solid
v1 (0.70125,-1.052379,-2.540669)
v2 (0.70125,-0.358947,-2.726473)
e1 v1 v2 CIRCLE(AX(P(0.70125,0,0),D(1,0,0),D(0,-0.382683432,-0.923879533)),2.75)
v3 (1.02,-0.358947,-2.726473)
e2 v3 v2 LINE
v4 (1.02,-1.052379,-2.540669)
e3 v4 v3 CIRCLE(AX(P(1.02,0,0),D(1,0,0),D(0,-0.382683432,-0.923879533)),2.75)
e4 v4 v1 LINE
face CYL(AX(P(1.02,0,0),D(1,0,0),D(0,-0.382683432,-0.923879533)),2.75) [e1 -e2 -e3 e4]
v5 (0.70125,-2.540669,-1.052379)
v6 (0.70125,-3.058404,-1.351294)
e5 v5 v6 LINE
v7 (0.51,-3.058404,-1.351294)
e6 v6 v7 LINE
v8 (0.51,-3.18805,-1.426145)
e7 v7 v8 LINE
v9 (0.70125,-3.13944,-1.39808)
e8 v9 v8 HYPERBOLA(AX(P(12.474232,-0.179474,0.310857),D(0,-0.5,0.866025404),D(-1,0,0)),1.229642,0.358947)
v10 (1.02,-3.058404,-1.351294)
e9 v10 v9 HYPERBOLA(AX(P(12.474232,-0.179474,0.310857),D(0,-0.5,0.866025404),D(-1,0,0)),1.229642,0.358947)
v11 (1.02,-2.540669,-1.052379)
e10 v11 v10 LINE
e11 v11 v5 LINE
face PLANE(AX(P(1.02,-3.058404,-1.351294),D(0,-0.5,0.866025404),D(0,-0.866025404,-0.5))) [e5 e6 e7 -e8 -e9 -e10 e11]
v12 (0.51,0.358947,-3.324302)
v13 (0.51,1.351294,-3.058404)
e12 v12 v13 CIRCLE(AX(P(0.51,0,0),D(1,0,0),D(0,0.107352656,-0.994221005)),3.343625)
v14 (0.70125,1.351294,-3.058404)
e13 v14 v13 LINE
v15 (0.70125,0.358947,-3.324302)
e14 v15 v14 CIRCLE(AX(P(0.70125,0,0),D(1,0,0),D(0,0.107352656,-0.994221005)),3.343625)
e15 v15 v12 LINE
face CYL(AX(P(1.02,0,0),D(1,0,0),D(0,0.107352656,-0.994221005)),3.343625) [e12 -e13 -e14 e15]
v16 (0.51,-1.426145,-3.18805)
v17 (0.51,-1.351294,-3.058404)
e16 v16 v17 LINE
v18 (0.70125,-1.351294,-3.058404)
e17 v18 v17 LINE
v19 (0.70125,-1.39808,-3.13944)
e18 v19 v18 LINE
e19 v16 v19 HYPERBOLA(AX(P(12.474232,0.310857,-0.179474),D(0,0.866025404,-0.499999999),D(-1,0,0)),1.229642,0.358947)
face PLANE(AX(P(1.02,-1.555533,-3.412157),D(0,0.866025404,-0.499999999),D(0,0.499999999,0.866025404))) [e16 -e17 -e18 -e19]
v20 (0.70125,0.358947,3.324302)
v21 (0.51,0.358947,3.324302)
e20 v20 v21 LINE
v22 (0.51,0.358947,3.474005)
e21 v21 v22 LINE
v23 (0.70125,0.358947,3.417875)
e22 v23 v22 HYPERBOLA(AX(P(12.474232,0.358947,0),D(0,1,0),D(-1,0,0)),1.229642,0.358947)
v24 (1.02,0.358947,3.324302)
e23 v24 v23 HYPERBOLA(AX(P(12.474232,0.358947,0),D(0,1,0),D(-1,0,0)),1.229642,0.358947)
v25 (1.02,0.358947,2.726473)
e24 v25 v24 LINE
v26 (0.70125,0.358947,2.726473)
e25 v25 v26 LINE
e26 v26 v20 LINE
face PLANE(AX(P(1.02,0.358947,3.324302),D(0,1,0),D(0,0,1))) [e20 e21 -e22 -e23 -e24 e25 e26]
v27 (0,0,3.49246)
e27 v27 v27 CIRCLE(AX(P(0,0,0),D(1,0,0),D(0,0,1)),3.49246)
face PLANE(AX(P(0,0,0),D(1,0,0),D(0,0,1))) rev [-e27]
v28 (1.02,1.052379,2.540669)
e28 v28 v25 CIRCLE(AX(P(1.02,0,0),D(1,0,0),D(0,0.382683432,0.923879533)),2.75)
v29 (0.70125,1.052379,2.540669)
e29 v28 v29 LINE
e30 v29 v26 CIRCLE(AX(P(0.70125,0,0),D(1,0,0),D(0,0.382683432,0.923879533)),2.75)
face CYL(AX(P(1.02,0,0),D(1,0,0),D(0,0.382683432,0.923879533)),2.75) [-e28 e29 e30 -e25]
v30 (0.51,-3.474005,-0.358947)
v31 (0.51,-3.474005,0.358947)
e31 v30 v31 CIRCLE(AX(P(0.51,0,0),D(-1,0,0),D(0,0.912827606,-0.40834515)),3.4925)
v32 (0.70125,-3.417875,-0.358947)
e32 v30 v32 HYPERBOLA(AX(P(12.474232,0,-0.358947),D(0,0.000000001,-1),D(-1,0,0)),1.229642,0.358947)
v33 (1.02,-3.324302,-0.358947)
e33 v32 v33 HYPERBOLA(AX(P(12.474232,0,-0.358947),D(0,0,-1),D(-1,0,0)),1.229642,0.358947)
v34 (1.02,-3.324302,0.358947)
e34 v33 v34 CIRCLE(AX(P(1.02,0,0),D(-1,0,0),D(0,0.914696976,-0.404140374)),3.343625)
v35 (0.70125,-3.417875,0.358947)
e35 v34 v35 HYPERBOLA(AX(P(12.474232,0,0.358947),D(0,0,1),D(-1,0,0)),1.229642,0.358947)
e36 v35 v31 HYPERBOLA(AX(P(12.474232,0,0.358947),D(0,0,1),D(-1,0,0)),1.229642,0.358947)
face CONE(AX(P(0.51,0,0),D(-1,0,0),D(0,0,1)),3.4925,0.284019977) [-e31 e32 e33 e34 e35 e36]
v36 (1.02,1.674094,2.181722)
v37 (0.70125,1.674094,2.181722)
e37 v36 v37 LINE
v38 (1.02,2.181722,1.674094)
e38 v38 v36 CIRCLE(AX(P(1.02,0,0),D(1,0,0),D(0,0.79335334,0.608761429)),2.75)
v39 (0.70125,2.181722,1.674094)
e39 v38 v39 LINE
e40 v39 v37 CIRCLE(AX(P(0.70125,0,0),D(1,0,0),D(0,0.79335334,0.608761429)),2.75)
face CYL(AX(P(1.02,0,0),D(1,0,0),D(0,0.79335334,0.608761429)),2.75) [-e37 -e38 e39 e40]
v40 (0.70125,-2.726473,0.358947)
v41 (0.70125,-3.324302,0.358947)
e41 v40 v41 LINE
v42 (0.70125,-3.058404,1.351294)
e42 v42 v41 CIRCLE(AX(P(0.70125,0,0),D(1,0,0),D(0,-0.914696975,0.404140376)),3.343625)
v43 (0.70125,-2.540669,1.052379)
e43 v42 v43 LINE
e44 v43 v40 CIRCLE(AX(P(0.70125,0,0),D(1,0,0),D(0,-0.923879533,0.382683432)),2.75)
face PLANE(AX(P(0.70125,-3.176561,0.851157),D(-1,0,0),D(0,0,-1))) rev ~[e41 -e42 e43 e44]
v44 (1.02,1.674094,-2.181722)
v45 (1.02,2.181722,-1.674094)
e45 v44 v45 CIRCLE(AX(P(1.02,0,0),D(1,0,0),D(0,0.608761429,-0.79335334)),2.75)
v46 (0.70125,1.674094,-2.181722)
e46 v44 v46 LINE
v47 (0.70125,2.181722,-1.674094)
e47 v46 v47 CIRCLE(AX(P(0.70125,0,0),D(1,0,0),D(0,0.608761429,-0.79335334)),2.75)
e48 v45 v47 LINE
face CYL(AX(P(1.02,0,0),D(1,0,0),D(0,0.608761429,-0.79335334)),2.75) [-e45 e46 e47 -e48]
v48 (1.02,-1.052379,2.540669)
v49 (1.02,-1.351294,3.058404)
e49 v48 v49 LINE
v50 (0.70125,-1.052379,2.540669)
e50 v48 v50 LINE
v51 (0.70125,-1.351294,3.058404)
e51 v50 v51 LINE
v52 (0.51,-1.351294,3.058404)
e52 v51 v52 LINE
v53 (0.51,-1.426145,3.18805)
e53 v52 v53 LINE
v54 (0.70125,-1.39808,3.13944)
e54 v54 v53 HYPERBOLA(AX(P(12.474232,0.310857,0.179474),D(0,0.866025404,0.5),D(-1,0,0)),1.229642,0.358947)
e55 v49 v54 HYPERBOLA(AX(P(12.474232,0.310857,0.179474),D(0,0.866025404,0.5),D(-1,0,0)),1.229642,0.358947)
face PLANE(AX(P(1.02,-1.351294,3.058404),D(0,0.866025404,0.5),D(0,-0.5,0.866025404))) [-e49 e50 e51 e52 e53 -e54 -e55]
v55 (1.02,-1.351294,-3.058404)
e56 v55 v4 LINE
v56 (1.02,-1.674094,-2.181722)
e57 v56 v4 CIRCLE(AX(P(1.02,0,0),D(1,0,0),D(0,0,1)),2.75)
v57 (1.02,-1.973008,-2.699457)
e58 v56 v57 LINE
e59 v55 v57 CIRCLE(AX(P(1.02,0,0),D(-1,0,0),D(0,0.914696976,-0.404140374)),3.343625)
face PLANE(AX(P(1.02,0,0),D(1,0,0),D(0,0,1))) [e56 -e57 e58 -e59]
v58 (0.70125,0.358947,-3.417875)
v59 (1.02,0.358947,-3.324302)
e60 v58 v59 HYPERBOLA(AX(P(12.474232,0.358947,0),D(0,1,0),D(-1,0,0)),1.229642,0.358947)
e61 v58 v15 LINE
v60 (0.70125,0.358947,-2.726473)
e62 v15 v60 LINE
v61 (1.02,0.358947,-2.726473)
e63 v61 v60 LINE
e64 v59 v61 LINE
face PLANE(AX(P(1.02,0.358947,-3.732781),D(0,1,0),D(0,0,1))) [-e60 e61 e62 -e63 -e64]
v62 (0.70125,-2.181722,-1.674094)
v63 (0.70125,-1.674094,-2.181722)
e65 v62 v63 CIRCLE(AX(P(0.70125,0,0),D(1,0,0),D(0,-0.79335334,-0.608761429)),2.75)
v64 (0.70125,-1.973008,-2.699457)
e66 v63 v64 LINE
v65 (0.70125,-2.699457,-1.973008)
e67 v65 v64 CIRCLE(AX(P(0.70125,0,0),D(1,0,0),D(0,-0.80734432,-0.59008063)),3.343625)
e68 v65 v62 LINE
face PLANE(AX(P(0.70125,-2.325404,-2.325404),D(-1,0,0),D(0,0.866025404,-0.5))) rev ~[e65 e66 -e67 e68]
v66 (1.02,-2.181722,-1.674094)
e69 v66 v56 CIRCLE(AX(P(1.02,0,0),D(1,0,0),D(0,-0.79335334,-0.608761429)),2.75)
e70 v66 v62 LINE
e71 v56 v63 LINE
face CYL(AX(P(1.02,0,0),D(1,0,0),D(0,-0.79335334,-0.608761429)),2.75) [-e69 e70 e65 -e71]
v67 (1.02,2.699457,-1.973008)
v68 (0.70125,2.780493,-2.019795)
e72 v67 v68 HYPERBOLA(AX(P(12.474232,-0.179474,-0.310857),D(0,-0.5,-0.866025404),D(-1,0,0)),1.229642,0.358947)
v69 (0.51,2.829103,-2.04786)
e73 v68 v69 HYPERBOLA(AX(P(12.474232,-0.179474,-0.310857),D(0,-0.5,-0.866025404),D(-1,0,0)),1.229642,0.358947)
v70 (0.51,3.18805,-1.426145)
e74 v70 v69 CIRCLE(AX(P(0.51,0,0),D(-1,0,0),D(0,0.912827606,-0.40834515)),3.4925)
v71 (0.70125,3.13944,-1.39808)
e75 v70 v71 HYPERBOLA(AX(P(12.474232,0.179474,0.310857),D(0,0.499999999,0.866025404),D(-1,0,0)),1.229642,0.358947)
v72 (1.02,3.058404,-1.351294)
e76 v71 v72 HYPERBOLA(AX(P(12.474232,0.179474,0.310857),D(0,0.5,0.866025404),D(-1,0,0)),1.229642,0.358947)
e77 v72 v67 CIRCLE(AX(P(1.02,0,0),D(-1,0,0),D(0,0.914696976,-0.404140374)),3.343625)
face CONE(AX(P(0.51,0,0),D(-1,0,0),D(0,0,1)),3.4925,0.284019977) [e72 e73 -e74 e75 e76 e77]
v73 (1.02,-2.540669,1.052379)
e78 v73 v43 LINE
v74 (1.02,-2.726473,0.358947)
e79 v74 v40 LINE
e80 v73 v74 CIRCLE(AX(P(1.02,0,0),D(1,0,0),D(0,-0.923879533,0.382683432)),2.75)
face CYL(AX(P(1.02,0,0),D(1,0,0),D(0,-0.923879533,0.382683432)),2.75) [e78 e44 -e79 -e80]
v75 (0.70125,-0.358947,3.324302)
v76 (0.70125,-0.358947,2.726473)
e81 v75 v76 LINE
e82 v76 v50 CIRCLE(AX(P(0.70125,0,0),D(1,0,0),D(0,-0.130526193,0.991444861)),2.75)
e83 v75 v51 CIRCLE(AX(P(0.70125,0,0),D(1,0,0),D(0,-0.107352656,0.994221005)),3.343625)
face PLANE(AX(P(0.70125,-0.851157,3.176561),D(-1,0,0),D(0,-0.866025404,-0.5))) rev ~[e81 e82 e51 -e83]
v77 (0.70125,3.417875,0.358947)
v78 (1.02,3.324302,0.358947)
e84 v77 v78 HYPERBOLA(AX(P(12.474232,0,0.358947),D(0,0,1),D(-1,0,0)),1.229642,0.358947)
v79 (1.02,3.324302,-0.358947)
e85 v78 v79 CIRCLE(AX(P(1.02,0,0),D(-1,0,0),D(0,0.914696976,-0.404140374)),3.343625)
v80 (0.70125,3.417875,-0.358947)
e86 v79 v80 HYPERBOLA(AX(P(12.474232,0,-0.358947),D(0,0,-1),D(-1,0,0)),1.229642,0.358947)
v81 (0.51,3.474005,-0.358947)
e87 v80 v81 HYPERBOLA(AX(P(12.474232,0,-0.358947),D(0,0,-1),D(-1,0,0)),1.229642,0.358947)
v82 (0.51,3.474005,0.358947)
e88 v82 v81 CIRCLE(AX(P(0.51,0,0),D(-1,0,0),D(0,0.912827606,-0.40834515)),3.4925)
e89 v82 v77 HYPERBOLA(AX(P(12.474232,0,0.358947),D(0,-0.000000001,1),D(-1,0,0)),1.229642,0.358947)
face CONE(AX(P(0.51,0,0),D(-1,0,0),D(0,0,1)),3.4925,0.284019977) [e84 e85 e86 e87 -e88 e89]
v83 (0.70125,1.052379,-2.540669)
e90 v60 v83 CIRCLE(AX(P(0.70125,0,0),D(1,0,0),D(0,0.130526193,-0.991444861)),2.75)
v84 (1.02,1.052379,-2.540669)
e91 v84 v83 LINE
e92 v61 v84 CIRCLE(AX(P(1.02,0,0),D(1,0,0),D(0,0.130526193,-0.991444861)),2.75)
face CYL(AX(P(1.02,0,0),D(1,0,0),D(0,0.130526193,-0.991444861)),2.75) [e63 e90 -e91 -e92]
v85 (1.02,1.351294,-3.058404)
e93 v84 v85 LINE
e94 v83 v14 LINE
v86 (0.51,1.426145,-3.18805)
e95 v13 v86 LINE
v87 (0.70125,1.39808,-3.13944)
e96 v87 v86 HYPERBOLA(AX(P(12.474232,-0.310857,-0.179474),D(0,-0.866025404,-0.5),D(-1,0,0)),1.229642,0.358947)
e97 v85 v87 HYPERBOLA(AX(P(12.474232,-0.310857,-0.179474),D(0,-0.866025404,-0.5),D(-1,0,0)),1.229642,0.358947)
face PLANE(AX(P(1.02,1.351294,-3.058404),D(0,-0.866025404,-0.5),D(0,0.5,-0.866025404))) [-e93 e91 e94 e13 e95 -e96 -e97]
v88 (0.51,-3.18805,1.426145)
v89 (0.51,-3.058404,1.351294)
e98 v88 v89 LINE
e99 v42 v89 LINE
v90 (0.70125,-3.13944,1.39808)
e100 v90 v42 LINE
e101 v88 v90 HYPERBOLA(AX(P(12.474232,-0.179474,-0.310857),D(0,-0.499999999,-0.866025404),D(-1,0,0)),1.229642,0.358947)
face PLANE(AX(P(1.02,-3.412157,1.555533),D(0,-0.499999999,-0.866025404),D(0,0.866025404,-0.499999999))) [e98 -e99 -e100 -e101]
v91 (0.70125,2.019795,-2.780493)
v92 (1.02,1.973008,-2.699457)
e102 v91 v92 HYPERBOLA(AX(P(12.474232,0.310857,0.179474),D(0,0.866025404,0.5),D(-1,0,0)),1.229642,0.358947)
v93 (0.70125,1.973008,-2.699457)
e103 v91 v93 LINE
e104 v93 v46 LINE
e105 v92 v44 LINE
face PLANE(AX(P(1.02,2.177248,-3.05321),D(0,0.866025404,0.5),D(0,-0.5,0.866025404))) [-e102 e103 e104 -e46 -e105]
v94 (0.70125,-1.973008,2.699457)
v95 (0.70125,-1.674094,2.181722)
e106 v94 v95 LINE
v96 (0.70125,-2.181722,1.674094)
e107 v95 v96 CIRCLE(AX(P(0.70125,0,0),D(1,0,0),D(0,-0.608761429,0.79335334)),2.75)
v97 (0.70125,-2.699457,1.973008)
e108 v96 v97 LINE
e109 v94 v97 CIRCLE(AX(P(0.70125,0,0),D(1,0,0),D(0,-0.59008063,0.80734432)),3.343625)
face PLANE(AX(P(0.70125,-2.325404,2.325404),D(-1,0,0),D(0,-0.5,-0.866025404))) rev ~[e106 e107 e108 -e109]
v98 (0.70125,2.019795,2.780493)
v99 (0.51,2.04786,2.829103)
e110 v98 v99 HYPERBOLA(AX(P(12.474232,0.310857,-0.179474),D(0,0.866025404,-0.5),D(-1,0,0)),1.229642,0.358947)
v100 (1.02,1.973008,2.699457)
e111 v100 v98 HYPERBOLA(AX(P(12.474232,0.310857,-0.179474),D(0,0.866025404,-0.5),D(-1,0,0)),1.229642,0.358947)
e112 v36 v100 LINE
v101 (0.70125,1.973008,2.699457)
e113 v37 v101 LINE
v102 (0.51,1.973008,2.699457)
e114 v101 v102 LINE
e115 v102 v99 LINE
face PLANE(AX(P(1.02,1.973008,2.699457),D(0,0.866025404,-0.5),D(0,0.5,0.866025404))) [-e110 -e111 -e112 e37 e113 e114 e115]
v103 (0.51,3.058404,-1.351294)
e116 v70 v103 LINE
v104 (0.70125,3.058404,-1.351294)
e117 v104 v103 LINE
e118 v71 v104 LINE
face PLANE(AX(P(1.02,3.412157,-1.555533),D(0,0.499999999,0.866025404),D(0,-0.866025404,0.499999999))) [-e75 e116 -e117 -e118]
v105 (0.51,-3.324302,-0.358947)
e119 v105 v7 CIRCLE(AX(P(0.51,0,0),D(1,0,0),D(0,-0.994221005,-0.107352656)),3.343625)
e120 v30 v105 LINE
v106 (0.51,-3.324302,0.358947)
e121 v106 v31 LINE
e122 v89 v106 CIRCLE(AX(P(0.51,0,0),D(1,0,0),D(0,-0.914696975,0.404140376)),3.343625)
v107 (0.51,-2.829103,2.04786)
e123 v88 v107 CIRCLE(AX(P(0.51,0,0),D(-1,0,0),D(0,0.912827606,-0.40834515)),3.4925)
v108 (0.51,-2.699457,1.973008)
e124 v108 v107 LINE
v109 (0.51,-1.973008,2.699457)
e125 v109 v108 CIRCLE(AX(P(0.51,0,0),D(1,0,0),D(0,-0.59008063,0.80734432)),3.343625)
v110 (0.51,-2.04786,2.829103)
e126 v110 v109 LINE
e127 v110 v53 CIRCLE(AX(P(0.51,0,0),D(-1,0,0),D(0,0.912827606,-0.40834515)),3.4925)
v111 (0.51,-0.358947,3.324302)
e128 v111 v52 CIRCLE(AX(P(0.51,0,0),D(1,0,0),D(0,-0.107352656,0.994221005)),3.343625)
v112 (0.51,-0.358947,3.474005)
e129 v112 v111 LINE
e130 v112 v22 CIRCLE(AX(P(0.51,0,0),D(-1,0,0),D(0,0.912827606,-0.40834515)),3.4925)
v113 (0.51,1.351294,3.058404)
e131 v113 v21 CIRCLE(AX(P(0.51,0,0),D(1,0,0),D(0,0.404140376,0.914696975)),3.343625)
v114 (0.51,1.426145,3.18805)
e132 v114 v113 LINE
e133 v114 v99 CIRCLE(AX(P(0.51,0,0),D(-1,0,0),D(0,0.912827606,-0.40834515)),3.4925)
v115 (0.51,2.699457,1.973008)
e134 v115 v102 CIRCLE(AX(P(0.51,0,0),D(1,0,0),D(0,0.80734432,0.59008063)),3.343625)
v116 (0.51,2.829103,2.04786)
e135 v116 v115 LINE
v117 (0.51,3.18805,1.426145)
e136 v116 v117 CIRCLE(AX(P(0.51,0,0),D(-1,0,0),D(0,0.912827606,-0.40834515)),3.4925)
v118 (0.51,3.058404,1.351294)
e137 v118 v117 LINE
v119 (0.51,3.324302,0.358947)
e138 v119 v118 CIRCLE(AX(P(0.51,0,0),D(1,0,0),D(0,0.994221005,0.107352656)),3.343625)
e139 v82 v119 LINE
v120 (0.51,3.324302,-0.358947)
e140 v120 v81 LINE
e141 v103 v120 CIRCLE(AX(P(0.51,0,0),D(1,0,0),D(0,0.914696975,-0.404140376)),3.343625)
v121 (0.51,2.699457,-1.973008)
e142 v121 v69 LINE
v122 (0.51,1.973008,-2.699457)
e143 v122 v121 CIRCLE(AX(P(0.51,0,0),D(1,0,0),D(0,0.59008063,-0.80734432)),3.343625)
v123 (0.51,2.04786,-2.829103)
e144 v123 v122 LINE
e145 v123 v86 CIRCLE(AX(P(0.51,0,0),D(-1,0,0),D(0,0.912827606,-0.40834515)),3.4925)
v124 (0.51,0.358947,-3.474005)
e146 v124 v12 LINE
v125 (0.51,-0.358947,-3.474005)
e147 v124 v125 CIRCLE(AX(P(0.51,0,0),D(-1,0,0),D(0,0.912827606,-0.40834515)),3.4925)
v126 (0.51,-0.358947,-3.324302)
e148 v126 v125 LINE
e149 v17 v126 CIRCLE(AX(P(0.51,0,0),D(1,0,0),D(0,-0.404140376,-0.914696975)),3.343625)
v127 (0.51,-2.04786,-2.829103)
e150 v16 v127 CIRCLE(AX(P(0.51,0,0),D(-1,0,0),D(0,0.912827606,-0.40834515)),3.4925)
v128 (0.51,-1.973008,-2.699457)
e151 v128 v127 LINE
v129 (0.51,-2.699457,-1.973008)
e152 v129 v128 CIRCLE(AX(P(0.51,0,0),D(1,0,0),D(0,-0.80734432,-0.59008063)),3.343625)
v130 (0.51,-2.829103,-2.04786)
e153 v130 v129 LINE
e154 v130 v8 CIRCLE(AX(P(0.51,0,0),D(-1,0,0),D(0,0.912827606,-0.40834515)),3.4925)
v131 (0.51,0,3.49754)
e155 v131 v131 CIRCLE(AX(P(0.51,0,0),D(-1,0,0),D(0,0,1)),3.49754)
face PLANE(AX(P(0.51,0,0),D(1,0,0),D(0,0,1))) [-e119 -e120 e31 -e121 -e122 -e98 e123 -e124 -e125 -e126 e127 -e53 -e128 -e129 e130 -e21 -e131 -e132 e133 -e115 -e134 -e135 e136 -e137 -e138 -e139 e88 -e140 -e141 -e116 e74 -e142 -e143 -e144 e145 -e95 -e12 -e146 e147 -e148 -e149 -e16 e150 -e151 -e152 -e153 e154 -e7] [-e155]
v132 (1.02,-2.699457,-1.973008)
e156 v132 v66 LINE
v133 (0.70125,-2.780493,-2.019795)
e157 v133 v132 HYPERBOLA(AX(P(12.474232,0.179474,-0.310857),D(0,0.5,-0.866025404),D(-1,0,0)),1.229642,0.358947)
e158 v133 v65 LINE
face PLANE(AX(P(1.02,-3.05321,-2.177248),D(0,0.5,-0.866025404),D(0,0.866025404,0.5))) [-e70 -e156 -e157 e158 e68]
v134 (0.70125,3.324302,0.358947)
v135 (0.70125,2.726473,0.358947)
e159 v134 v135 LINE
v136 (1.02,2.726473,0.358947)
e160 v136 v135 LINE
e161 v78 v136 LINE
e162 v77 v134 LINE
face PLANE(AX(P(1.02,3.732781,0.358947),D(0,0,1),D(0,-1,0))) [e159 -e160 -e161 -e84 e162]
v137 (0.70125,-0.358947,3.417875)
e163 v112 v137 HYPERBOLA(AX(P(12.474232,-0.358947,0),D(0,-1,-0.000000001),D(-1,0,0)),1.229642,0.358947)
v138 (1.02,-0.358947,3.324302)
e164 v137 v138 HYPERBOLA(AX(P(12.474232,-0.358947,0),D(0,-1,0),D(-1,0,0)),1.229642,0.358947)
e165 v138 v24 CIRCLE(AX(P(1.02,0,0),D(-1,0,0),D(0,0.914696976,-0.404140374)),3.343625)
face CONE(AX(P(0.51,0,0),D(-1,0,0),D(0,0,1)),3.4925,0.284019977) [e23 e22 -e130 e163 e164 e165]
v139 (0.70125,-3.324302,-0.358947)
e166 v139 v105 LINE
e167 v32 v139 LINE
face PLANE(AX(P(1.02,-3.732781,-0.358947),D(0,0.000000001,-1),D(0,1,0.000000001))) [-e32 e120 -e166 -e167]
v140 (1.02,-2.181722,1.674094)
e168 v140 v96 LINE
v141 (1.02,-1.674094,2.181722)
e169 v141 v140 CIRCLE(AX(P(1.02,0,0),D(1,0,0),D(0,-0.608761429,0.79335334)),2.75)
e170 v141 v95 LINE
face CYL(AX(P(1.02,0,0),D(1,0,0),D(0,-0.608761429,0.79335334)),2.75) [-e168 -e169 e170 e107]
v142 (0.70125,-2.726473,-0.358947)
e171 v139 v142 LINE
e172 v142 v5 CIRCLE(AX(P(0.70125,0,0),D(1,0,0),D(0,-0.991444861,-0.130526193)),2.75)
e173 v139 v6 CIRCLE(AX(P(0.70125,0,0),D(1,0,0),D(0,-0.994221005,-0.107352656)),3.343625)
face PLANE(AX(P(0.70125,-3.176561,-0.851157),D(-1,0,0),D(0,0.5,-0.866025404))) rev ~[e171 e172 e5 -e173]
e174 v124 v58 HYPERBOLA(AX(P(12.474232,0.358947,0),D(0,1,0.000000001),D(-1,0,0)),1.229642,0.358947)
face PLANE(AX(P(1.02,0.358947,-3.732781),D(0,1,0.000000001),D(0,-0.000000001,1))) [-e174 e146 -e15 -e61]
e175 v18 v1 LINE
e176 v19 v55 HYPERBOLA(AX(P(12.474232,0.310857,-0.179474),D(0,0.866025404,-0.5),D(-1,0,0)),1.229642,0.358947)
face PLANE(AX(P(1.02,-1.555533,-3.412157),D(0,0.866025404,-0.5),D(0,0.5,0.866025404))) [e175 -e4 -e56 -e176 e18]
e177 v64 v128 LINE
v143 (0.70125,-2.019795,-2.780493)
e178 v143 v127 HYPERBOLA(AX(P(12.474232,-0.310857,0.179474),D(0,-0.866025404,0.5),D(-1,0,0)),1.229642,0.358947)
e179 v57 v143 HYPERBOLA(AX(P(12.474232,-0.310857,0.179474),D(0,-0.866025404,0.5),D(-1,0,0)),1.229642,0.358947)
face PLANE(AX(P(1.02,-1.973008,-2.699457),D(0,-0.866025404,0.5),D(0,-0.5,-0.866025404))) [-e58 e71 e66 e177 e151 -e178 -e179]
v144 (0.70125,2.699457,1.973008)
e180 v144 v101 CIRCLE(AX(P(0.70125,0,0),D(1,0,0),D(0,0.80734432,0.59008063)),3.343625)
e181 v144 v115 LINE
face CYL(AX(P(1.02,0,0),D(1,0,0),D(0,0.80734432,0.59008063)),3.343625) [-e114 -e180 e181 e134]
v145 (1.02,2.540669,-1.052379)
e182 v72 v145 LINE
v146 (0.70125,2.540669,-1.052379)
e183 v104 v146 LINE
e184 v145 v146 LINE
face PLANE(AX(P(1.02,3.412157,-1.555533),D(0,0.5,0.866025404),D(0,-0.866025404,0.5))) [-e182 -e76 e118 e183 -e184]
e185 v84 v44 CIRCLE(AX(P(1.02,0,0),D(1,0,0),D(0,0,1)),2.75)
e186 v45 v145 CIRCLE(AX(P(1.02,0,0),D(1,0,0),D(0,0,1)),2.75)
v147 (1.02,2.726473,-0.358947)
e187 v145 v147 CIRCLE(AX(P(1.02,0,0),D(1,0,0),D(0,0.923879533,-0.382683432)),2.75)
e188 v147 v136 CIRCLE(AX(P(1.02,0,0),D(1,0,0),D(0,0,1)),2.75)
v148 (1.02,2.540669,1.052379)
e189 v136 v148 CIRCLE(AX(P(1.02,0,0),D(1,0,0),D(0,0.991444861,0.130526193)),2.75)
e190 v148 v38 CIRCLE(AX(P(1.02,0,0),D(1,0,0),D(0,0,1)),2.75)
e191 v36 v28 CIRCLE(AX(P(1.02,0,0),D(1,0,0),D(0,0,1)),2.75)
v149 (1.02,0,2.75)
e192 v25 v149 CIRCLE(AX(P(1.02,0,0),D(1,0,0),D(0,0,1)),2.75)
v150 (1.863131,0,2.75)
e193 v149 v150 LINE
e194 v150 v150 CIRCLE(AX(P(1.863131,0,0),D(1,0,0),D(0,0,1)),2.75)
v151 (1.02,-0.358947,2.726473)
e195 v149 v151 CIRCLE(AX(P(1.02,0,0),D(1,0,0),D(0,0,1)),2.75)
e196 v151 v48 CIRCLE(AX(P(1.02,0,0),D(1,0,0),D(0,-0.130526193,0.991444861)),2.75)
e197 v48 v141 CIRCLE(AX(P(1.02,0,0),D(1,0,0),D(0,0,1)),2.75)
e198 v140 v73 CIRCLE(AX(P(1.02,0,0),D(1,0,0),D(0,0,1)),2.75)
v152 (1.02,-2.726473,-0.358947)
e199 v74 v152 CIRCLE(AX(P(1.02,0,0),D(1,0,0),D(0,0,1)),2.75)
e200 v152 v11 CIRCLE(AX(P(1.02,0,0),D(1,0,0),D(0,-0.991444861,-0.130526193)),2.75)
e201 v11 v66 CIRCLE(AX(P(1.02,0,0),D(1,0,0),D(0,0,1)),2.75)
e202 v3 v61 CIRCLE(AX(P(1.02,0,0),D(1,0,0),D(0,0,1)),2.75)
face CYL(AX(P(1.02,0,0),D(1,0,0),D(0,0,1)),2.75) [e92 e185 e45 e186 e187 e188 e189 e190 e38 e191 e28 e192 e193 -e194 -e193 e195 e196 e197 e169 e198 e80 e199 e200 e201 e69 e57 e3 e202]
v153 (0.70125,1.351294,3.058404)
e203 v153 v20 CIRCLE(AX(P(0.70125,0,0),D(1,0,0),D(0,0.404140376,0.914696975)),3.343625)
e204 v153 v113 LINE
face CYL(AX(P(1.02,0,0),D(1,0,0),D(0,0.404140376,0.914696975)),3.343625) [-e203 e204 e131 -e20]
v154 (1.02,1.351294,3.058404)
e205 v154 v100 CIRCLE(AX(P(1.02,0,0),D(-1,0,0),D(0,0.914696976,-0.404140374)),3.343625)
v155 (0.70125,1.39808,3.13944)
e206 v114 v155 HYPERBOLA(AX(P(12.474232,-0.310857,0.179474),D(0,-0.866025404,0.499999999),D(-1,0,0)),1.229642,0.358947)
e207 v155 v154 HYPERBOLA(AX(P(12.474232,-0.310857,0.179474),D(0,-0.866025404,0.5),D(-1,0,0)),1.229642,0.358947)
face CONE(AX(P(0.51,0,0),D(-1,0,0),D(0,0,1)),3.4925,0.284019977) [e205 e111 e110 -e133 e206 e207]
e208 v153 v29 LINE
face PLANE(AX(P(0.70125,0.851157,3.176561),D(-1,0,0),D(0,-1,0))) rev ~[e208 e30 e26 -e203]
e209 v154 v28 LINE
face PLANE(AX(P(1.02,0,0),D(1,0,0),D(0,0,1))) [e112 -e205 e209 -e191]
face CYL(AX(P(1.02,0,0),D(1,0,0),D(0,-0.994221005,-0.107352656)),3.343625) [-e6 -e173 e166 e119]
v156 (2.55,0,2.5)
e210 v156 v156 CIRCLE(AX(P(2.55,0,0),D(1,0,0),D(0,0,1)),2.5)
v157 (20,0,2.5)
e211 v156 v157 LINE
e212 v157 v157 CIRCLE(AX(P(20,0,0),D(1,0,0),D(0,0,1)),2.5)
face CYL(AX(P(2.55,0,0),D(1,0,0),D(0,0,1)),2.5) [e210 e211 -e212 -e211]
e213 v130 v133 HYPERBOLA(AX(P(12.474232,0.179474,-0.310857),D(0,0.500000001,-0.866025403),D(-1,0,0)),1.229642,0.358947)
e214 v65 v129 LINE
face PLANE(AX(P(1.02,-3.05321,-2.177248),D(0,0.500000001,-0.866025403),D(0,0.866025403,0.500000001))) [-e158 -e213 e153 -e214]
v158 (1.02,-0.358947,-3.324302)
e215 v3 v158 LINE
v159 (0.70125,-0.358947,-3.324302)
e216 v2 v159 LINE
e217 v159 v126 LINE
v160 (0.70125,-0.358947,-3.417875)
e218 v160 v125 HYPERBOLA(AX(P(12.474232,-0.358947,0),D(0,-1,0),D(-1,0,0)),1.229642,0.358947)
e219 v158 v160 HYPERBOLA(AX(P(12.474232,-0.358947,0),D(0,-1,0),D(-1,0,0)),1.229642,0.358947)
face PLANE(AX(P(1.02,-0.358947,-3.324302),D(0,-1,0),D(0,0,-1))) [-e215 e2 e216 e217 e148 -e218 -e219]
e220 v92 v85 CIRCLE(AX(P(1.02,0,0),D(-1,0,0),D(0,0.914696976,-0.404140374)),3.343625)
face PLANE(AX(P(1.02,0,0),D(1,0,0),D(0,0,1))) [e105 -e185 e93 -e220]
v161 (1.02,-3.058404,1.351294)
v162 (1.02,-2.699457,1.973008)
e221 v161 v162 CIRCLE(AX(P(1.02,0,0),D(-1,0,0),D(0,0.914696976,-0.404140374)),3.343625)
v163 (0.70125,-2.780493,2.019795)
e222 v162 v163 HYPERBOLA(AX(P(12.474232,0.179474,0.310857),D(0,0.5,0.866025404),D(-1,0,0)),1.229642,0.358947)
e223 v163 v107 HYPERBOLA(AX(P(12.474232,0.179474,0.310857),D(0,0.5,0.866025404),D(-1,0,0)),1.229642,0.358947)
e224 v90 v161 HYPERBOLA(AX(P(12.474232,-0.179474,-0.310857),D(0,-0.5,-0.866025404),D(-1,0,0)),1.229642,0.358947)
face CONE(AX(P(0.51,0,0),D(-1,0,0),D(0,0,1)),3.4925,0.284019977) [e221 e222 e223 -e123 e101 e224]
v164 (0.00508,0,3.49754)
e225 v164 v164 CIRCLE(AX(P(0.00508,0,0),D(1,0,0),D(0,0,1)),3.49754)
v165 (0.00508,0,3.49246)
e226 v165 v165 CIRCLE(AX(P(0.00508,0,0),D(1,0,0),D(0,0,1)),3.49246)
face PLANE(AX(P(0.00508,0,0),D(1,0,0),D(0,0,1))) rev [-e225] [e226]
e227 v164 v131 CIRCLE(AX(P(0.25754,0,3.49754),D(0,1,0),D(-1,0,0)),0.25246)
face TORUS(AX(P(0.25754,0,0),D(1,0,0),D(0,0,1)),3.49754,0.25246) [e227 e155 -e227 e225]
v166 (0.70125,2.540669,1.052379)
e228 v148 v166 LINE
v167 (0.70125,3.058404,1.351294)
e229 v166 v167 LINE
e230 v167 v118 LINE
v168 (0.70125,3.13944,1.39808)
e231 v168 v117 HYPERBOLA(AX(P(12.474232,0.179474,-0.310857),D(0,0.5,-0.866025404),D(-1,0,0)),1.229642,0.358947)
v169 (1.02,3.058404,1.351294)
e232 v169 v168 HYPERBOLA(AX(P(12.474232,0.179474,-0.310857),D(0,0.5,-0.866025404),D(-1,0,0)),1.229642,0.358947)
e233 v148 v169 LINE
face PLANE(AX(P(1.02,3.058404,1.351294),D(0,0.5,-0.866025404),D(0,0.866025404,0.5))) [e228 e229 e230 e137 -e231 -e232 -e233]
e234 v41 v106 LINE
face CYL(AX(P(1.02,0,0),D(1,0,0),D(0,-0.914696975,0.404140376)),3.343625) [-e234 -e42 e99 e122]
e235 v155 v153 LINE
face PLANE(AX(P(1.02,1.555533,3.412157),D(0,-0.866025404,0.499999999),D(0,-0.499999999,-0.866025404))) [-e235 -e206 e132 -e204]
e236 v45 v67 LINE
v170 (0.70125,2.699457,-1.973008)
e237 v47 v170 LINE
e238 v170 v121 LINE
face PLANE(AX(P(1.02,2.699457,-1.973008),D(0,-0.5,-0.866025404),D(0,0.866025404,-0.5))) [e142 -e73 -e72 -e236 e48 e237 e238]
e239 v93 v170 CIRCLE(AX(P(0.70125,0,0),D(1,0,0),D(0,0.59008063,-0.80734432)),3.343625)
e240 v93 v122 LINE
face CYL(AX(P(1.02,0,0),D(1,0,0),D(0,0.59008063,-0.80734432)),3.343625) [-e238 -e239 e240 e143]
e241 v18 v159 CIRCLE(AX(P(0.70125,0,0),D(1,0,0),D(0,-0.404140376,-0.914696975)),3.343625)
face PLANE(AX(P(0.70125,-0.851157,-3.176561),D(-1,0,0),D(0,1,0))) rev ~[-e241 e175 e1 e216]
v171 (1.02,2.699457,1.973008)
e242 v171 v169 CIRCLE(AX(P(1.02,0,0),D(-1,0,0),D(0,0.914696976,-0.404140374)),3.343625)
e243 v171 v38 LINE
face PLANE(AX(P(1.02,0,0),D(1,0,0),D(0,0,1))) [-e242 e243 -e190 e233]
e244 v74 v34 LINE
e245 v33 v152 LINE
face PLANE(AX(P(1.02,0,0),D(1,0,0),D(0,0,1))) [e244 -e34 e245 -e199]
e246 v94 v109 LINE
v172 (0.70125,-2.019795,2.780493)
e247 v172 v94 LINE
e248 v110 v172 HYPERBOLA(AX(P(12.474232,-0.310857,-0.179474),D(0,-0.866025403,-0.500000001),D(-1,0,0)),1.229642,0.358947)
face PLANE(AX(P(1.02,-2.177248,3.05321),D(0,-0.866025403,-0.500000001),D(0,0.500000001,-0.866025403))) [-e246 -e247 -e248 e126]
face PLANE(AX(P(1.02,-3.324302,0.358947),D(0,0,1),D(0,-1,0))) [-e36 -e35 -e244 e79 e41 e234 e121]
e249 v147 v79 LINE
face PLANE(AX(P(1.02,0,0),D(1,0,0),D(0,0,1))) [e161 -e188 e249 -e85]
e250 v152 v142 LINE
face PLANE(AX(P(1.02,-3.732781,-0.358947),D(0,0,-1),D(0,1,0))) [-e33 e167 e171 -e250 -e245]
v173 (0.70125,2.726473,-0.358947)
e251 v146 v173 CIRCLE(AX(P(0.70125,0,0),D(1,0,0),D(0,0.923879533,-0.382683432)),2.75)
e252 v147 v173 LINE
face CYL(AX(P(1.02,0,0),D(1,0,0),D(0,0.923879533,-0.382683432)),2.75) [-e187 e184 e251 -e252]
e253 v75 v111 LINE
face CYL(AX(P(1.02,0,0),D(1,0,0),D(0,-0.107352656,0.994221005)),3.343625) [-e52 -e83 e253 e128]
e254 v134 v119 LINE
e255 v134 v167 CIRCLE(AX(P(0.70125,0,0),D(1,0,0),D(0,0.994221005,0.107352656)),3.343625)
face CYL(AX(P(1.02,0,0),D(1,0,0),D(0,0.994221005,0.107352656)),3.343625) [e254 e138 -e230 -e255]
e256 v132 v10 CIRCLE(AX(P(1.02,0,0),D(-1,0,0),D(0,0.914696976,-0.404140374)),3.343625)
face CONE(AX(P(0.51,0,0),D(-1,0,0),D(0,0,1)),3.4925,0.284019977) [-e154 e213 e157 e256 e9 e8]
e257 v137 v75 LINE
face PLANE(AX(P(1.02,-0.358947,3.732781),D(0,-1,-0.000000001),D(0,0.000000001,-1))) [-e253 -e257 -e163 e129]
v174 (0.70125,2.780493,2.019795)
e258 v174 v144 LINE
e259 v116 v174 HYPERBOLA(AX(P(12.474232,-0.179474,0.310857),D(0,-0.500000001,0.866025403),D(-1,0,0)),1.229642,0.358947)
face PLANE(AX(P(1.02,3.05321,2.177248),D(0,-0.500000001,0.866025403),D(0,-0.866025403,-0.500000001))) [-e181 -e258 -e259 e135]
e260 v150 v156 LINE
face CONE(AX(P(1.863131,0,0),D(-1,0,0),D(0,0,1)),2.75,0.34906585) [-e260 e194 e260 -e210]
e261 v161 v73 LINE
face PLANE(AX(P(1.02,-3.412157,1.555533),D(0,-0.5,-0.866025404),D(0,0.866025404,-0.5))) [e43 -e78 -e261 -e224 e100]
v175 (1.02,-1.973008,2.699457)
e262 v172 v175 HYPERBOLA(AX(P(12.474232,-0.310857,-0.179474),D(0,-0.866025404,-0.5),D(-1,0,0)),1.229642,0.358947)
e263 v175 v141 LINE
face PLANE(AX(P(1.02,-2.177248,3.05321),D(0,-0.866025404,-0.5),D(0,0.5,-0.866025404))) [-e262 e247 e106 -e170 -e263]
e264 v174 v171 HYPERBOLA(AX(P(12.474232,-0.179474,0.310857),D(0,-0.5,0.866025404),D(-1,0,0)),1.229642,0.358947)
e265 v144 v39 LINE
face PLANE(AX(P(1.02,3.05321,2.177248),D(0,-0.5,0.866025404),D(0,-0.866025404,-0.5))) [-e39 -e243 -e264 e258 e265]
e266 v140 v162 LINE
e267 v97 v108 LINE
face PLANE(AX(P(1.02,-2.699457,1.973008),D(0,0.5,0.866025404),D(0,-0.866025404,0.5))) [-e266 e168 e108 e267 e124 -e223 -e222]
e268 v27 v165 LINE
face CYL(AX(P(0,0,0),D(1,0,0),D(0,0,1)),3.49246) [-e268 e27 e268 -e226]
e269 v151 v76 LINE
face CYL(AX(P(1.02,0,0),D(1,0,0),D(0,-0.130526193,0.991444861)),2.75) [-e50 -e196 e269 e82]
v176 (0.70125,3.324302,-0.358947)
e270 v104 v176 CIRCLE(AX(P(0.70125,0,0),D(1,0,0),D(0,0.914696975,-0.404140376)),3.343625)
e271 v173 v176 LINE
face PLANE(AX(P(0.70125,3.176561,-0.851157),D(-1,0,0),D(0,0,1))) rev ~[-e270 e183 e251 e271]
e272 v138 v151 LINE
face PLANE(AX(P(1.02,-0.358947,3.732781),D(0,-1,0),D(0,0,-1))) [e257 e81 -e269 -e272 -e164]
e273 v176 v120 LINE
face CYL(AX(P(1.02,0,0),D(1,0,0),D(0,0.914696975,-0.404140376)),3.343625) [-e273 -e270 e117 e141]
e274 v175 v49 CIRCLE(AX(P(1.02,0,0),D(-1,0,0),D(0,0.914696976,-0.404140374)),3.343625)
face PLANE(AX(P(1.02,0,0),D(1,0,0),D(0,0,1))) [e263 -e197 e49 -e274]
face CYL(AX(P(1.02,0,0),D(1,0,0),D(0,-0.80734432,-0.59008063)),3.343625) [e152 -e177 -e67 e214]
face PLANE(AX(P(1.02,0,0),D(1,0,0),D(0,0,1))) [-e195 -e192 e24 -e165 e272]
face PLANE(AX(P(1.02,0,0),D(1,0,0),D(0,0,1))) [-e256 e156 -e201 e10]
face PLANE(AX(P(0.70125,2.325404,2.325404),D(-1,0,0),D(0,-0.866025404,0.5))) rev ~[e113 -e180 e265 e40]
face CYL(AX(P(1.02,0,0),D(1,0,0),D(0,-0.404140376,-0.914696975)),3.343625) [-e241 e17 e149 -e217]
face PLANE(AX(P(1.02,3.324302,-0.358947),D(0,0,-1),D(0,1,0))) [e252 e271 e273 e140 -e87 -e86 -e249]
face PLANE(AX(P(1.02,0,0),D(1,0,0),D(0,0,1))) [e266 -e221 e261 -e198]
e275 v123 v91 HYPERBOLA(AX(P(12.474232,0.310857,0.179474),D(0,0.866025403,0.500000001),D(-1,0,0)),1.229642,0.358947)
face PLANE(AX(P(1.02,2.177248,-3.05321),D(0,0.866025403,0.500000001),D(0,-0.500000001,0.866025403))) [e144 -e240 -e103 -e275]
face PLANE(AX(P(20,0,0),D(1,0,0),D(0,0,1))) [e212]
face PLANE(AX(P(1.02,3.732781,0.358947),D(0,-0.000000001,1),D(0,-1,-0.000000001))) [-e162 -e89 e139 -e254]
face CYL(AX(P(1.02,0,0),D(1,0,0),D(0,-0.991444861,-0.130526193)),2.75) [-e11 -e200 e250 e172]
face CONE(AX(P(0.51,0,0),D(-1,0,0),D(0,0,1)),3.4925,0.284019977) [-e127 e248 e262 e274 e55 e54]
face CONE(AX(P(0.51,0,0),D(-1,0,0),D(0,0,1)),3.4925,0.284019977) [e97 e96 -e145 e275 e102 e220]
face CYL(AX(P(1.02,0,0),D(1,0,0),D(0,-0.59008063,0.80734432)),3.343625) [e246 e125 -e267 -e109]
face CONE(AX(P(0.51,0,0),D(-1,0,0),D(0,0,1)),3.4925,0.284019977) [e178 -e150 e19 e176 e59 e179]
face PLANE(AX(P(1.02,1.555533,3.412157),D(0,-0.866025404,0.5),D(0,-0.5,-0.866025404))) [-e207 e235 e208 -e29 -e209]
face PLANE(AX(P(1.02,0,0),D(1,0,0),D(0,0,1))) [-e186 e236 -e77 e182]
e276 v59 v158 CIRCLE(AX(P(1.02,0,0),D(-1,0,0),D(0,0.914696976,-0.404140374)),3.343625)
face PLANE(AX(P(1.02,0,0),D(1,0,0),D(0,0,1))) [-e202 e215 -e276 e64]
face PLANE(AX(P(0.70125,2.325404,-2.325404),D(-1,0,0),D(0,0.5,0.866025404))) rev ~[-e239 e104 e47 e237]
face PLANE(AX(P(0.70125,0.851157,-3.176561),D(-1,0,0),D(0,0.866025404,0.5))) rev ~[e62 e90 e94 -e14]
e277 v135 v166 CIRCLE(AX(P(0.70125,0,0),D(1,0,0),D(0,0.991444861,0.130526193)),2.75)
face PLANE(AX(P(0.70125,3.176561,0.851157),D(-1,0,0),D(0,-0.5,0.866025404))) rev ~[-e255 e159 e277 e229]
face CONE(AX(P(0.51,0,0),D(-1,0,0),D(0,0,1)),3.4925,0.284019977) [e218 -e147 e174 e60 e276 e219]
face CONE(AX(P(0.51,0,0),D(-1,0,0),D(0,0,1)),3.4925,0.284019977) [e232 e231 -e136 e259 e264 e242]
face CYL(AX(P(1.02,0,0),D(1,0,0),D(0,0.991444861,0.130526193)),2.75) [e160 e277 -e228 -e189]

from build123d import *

# Parameters (mm, degrees)
RIBCUT1_DEPTH    = 0.31875
RIBCUT2_DEPTH    = 0.51
RIBCUTSPAT_COUNT = 12
RIBCUTSPAT_ANGLE = 330


with BuildPart() as part:
    # BodySke → BaseBody (revolve)
    with BuildSketch(Plane.XY, mode=Mode.PRIVATE) as basebody_sk:
        with BuildLine():
            Line((0, 0), (0, 3.49246))
            Line((0, 3.49246), (0.00508, 3.49246))
            Line((0.00508, 3.49246), (0.00508, 3.49754))
            ThreePointArc((0.00508, 3.49754), (0.25754, 3.75), (0.51, 3.49754))
            Line((0.51, 3.49754), (0.51, 3.4925))
            Line((0.51, 3.4925), (1.02, 3.343625))
            Line((1.02, 3.343625), (1.02, 2.75))
            Line((1.02, 2.75), (1.863130645, 2.75))
            Line((1.863130645, 2.75), (2.55, 2.5))
            Line((2.55, 2.5), (20, 2.5))
            Line((20, 2.5), (20, 0))
            Line((20, 0), (0, 0))
        make_face()
    revolve(basebody_sk.sketch.rotate(Axis((0, 0, 0), (1, 0, 0)), 90), axis=Axis((0, 0, 0), (1, 0, 0)))

    # RibCut1Ske → RibCut1 (cut)
    with BuildSketch(Plane(origin=(1.02, 0, 0), x_dir=(0, 0, -1), z_dir=(1, 0, 0))):
        with BuildLine():
            Line((0.358947029, 2.726473369), (0.358947029, 3.732781407))
            ThreePointArc((0.358947029, 3.732781407), (0.970571419, 3.622221849), (1.555533458, 3.412157039))
            Line((1.555533458, 3.412157039), (1.052379439, 2.540668714))
            ThreePointArc((1.052379439, 2.540668714), (0.711752374, 2.656296022), (0.358947029, 2.726473369))
        make_face()
    ribcut1 = extrude(amount=-RIBCUT1_DEPTH, mode=Mode.SUBTRACT)

    # RibCut2Ske → RibCut2 (cut)
    with BuildSketch(Plane(origin=(1.02, 0, 0), x_dir=(0, 0, -1), z_dir=(1, 0, 0))):
        with BuildLine():
            Line((0.358947029, 3.324302208), (0.358947029, 3.732781407))
            ThreePointArc((0.358947029, 3.732781407), (0.970571419, 3.622221849), (1.555533458, 3.412157039))
            Line((1.555533458, 3.412157039), (1.351293859, 3.058403676))
            ThreePointArc((1.351293859, 3.058403676), (0.86539383, 3.229693741), (0.358947029, 3.324302208))
        make_face()
    ribcut2 = extrude(amount=-RIBCUT2_DEPTH, mode=Mode.SUBTRACT)

    # RibCutsPat: RibCut1, RibCut2 ×12 about axis
    ribcutspat_axis = Axis((0, 0, 0), (1, 0, 0))
    add([ribcut1.rotate(ribcutspat_axis, i * RIBCUTSPAT_ANGLE / (RIBCUTSPAT_COUNT - 1)) for i in range(1, RIBCUTSPAT_COUNT)], mode=Mode.SUBTRACT)
    add([ribcut2.rotate(ribcutspat_axis, i * RIBCUTSPAT_ANGLE / (RIBCUTSPAT_COUNT - 1)) for i in range(1, RIBCUTSPAT_COUNT)], mode=Mode.SUBTRACT)


solid = part.part
